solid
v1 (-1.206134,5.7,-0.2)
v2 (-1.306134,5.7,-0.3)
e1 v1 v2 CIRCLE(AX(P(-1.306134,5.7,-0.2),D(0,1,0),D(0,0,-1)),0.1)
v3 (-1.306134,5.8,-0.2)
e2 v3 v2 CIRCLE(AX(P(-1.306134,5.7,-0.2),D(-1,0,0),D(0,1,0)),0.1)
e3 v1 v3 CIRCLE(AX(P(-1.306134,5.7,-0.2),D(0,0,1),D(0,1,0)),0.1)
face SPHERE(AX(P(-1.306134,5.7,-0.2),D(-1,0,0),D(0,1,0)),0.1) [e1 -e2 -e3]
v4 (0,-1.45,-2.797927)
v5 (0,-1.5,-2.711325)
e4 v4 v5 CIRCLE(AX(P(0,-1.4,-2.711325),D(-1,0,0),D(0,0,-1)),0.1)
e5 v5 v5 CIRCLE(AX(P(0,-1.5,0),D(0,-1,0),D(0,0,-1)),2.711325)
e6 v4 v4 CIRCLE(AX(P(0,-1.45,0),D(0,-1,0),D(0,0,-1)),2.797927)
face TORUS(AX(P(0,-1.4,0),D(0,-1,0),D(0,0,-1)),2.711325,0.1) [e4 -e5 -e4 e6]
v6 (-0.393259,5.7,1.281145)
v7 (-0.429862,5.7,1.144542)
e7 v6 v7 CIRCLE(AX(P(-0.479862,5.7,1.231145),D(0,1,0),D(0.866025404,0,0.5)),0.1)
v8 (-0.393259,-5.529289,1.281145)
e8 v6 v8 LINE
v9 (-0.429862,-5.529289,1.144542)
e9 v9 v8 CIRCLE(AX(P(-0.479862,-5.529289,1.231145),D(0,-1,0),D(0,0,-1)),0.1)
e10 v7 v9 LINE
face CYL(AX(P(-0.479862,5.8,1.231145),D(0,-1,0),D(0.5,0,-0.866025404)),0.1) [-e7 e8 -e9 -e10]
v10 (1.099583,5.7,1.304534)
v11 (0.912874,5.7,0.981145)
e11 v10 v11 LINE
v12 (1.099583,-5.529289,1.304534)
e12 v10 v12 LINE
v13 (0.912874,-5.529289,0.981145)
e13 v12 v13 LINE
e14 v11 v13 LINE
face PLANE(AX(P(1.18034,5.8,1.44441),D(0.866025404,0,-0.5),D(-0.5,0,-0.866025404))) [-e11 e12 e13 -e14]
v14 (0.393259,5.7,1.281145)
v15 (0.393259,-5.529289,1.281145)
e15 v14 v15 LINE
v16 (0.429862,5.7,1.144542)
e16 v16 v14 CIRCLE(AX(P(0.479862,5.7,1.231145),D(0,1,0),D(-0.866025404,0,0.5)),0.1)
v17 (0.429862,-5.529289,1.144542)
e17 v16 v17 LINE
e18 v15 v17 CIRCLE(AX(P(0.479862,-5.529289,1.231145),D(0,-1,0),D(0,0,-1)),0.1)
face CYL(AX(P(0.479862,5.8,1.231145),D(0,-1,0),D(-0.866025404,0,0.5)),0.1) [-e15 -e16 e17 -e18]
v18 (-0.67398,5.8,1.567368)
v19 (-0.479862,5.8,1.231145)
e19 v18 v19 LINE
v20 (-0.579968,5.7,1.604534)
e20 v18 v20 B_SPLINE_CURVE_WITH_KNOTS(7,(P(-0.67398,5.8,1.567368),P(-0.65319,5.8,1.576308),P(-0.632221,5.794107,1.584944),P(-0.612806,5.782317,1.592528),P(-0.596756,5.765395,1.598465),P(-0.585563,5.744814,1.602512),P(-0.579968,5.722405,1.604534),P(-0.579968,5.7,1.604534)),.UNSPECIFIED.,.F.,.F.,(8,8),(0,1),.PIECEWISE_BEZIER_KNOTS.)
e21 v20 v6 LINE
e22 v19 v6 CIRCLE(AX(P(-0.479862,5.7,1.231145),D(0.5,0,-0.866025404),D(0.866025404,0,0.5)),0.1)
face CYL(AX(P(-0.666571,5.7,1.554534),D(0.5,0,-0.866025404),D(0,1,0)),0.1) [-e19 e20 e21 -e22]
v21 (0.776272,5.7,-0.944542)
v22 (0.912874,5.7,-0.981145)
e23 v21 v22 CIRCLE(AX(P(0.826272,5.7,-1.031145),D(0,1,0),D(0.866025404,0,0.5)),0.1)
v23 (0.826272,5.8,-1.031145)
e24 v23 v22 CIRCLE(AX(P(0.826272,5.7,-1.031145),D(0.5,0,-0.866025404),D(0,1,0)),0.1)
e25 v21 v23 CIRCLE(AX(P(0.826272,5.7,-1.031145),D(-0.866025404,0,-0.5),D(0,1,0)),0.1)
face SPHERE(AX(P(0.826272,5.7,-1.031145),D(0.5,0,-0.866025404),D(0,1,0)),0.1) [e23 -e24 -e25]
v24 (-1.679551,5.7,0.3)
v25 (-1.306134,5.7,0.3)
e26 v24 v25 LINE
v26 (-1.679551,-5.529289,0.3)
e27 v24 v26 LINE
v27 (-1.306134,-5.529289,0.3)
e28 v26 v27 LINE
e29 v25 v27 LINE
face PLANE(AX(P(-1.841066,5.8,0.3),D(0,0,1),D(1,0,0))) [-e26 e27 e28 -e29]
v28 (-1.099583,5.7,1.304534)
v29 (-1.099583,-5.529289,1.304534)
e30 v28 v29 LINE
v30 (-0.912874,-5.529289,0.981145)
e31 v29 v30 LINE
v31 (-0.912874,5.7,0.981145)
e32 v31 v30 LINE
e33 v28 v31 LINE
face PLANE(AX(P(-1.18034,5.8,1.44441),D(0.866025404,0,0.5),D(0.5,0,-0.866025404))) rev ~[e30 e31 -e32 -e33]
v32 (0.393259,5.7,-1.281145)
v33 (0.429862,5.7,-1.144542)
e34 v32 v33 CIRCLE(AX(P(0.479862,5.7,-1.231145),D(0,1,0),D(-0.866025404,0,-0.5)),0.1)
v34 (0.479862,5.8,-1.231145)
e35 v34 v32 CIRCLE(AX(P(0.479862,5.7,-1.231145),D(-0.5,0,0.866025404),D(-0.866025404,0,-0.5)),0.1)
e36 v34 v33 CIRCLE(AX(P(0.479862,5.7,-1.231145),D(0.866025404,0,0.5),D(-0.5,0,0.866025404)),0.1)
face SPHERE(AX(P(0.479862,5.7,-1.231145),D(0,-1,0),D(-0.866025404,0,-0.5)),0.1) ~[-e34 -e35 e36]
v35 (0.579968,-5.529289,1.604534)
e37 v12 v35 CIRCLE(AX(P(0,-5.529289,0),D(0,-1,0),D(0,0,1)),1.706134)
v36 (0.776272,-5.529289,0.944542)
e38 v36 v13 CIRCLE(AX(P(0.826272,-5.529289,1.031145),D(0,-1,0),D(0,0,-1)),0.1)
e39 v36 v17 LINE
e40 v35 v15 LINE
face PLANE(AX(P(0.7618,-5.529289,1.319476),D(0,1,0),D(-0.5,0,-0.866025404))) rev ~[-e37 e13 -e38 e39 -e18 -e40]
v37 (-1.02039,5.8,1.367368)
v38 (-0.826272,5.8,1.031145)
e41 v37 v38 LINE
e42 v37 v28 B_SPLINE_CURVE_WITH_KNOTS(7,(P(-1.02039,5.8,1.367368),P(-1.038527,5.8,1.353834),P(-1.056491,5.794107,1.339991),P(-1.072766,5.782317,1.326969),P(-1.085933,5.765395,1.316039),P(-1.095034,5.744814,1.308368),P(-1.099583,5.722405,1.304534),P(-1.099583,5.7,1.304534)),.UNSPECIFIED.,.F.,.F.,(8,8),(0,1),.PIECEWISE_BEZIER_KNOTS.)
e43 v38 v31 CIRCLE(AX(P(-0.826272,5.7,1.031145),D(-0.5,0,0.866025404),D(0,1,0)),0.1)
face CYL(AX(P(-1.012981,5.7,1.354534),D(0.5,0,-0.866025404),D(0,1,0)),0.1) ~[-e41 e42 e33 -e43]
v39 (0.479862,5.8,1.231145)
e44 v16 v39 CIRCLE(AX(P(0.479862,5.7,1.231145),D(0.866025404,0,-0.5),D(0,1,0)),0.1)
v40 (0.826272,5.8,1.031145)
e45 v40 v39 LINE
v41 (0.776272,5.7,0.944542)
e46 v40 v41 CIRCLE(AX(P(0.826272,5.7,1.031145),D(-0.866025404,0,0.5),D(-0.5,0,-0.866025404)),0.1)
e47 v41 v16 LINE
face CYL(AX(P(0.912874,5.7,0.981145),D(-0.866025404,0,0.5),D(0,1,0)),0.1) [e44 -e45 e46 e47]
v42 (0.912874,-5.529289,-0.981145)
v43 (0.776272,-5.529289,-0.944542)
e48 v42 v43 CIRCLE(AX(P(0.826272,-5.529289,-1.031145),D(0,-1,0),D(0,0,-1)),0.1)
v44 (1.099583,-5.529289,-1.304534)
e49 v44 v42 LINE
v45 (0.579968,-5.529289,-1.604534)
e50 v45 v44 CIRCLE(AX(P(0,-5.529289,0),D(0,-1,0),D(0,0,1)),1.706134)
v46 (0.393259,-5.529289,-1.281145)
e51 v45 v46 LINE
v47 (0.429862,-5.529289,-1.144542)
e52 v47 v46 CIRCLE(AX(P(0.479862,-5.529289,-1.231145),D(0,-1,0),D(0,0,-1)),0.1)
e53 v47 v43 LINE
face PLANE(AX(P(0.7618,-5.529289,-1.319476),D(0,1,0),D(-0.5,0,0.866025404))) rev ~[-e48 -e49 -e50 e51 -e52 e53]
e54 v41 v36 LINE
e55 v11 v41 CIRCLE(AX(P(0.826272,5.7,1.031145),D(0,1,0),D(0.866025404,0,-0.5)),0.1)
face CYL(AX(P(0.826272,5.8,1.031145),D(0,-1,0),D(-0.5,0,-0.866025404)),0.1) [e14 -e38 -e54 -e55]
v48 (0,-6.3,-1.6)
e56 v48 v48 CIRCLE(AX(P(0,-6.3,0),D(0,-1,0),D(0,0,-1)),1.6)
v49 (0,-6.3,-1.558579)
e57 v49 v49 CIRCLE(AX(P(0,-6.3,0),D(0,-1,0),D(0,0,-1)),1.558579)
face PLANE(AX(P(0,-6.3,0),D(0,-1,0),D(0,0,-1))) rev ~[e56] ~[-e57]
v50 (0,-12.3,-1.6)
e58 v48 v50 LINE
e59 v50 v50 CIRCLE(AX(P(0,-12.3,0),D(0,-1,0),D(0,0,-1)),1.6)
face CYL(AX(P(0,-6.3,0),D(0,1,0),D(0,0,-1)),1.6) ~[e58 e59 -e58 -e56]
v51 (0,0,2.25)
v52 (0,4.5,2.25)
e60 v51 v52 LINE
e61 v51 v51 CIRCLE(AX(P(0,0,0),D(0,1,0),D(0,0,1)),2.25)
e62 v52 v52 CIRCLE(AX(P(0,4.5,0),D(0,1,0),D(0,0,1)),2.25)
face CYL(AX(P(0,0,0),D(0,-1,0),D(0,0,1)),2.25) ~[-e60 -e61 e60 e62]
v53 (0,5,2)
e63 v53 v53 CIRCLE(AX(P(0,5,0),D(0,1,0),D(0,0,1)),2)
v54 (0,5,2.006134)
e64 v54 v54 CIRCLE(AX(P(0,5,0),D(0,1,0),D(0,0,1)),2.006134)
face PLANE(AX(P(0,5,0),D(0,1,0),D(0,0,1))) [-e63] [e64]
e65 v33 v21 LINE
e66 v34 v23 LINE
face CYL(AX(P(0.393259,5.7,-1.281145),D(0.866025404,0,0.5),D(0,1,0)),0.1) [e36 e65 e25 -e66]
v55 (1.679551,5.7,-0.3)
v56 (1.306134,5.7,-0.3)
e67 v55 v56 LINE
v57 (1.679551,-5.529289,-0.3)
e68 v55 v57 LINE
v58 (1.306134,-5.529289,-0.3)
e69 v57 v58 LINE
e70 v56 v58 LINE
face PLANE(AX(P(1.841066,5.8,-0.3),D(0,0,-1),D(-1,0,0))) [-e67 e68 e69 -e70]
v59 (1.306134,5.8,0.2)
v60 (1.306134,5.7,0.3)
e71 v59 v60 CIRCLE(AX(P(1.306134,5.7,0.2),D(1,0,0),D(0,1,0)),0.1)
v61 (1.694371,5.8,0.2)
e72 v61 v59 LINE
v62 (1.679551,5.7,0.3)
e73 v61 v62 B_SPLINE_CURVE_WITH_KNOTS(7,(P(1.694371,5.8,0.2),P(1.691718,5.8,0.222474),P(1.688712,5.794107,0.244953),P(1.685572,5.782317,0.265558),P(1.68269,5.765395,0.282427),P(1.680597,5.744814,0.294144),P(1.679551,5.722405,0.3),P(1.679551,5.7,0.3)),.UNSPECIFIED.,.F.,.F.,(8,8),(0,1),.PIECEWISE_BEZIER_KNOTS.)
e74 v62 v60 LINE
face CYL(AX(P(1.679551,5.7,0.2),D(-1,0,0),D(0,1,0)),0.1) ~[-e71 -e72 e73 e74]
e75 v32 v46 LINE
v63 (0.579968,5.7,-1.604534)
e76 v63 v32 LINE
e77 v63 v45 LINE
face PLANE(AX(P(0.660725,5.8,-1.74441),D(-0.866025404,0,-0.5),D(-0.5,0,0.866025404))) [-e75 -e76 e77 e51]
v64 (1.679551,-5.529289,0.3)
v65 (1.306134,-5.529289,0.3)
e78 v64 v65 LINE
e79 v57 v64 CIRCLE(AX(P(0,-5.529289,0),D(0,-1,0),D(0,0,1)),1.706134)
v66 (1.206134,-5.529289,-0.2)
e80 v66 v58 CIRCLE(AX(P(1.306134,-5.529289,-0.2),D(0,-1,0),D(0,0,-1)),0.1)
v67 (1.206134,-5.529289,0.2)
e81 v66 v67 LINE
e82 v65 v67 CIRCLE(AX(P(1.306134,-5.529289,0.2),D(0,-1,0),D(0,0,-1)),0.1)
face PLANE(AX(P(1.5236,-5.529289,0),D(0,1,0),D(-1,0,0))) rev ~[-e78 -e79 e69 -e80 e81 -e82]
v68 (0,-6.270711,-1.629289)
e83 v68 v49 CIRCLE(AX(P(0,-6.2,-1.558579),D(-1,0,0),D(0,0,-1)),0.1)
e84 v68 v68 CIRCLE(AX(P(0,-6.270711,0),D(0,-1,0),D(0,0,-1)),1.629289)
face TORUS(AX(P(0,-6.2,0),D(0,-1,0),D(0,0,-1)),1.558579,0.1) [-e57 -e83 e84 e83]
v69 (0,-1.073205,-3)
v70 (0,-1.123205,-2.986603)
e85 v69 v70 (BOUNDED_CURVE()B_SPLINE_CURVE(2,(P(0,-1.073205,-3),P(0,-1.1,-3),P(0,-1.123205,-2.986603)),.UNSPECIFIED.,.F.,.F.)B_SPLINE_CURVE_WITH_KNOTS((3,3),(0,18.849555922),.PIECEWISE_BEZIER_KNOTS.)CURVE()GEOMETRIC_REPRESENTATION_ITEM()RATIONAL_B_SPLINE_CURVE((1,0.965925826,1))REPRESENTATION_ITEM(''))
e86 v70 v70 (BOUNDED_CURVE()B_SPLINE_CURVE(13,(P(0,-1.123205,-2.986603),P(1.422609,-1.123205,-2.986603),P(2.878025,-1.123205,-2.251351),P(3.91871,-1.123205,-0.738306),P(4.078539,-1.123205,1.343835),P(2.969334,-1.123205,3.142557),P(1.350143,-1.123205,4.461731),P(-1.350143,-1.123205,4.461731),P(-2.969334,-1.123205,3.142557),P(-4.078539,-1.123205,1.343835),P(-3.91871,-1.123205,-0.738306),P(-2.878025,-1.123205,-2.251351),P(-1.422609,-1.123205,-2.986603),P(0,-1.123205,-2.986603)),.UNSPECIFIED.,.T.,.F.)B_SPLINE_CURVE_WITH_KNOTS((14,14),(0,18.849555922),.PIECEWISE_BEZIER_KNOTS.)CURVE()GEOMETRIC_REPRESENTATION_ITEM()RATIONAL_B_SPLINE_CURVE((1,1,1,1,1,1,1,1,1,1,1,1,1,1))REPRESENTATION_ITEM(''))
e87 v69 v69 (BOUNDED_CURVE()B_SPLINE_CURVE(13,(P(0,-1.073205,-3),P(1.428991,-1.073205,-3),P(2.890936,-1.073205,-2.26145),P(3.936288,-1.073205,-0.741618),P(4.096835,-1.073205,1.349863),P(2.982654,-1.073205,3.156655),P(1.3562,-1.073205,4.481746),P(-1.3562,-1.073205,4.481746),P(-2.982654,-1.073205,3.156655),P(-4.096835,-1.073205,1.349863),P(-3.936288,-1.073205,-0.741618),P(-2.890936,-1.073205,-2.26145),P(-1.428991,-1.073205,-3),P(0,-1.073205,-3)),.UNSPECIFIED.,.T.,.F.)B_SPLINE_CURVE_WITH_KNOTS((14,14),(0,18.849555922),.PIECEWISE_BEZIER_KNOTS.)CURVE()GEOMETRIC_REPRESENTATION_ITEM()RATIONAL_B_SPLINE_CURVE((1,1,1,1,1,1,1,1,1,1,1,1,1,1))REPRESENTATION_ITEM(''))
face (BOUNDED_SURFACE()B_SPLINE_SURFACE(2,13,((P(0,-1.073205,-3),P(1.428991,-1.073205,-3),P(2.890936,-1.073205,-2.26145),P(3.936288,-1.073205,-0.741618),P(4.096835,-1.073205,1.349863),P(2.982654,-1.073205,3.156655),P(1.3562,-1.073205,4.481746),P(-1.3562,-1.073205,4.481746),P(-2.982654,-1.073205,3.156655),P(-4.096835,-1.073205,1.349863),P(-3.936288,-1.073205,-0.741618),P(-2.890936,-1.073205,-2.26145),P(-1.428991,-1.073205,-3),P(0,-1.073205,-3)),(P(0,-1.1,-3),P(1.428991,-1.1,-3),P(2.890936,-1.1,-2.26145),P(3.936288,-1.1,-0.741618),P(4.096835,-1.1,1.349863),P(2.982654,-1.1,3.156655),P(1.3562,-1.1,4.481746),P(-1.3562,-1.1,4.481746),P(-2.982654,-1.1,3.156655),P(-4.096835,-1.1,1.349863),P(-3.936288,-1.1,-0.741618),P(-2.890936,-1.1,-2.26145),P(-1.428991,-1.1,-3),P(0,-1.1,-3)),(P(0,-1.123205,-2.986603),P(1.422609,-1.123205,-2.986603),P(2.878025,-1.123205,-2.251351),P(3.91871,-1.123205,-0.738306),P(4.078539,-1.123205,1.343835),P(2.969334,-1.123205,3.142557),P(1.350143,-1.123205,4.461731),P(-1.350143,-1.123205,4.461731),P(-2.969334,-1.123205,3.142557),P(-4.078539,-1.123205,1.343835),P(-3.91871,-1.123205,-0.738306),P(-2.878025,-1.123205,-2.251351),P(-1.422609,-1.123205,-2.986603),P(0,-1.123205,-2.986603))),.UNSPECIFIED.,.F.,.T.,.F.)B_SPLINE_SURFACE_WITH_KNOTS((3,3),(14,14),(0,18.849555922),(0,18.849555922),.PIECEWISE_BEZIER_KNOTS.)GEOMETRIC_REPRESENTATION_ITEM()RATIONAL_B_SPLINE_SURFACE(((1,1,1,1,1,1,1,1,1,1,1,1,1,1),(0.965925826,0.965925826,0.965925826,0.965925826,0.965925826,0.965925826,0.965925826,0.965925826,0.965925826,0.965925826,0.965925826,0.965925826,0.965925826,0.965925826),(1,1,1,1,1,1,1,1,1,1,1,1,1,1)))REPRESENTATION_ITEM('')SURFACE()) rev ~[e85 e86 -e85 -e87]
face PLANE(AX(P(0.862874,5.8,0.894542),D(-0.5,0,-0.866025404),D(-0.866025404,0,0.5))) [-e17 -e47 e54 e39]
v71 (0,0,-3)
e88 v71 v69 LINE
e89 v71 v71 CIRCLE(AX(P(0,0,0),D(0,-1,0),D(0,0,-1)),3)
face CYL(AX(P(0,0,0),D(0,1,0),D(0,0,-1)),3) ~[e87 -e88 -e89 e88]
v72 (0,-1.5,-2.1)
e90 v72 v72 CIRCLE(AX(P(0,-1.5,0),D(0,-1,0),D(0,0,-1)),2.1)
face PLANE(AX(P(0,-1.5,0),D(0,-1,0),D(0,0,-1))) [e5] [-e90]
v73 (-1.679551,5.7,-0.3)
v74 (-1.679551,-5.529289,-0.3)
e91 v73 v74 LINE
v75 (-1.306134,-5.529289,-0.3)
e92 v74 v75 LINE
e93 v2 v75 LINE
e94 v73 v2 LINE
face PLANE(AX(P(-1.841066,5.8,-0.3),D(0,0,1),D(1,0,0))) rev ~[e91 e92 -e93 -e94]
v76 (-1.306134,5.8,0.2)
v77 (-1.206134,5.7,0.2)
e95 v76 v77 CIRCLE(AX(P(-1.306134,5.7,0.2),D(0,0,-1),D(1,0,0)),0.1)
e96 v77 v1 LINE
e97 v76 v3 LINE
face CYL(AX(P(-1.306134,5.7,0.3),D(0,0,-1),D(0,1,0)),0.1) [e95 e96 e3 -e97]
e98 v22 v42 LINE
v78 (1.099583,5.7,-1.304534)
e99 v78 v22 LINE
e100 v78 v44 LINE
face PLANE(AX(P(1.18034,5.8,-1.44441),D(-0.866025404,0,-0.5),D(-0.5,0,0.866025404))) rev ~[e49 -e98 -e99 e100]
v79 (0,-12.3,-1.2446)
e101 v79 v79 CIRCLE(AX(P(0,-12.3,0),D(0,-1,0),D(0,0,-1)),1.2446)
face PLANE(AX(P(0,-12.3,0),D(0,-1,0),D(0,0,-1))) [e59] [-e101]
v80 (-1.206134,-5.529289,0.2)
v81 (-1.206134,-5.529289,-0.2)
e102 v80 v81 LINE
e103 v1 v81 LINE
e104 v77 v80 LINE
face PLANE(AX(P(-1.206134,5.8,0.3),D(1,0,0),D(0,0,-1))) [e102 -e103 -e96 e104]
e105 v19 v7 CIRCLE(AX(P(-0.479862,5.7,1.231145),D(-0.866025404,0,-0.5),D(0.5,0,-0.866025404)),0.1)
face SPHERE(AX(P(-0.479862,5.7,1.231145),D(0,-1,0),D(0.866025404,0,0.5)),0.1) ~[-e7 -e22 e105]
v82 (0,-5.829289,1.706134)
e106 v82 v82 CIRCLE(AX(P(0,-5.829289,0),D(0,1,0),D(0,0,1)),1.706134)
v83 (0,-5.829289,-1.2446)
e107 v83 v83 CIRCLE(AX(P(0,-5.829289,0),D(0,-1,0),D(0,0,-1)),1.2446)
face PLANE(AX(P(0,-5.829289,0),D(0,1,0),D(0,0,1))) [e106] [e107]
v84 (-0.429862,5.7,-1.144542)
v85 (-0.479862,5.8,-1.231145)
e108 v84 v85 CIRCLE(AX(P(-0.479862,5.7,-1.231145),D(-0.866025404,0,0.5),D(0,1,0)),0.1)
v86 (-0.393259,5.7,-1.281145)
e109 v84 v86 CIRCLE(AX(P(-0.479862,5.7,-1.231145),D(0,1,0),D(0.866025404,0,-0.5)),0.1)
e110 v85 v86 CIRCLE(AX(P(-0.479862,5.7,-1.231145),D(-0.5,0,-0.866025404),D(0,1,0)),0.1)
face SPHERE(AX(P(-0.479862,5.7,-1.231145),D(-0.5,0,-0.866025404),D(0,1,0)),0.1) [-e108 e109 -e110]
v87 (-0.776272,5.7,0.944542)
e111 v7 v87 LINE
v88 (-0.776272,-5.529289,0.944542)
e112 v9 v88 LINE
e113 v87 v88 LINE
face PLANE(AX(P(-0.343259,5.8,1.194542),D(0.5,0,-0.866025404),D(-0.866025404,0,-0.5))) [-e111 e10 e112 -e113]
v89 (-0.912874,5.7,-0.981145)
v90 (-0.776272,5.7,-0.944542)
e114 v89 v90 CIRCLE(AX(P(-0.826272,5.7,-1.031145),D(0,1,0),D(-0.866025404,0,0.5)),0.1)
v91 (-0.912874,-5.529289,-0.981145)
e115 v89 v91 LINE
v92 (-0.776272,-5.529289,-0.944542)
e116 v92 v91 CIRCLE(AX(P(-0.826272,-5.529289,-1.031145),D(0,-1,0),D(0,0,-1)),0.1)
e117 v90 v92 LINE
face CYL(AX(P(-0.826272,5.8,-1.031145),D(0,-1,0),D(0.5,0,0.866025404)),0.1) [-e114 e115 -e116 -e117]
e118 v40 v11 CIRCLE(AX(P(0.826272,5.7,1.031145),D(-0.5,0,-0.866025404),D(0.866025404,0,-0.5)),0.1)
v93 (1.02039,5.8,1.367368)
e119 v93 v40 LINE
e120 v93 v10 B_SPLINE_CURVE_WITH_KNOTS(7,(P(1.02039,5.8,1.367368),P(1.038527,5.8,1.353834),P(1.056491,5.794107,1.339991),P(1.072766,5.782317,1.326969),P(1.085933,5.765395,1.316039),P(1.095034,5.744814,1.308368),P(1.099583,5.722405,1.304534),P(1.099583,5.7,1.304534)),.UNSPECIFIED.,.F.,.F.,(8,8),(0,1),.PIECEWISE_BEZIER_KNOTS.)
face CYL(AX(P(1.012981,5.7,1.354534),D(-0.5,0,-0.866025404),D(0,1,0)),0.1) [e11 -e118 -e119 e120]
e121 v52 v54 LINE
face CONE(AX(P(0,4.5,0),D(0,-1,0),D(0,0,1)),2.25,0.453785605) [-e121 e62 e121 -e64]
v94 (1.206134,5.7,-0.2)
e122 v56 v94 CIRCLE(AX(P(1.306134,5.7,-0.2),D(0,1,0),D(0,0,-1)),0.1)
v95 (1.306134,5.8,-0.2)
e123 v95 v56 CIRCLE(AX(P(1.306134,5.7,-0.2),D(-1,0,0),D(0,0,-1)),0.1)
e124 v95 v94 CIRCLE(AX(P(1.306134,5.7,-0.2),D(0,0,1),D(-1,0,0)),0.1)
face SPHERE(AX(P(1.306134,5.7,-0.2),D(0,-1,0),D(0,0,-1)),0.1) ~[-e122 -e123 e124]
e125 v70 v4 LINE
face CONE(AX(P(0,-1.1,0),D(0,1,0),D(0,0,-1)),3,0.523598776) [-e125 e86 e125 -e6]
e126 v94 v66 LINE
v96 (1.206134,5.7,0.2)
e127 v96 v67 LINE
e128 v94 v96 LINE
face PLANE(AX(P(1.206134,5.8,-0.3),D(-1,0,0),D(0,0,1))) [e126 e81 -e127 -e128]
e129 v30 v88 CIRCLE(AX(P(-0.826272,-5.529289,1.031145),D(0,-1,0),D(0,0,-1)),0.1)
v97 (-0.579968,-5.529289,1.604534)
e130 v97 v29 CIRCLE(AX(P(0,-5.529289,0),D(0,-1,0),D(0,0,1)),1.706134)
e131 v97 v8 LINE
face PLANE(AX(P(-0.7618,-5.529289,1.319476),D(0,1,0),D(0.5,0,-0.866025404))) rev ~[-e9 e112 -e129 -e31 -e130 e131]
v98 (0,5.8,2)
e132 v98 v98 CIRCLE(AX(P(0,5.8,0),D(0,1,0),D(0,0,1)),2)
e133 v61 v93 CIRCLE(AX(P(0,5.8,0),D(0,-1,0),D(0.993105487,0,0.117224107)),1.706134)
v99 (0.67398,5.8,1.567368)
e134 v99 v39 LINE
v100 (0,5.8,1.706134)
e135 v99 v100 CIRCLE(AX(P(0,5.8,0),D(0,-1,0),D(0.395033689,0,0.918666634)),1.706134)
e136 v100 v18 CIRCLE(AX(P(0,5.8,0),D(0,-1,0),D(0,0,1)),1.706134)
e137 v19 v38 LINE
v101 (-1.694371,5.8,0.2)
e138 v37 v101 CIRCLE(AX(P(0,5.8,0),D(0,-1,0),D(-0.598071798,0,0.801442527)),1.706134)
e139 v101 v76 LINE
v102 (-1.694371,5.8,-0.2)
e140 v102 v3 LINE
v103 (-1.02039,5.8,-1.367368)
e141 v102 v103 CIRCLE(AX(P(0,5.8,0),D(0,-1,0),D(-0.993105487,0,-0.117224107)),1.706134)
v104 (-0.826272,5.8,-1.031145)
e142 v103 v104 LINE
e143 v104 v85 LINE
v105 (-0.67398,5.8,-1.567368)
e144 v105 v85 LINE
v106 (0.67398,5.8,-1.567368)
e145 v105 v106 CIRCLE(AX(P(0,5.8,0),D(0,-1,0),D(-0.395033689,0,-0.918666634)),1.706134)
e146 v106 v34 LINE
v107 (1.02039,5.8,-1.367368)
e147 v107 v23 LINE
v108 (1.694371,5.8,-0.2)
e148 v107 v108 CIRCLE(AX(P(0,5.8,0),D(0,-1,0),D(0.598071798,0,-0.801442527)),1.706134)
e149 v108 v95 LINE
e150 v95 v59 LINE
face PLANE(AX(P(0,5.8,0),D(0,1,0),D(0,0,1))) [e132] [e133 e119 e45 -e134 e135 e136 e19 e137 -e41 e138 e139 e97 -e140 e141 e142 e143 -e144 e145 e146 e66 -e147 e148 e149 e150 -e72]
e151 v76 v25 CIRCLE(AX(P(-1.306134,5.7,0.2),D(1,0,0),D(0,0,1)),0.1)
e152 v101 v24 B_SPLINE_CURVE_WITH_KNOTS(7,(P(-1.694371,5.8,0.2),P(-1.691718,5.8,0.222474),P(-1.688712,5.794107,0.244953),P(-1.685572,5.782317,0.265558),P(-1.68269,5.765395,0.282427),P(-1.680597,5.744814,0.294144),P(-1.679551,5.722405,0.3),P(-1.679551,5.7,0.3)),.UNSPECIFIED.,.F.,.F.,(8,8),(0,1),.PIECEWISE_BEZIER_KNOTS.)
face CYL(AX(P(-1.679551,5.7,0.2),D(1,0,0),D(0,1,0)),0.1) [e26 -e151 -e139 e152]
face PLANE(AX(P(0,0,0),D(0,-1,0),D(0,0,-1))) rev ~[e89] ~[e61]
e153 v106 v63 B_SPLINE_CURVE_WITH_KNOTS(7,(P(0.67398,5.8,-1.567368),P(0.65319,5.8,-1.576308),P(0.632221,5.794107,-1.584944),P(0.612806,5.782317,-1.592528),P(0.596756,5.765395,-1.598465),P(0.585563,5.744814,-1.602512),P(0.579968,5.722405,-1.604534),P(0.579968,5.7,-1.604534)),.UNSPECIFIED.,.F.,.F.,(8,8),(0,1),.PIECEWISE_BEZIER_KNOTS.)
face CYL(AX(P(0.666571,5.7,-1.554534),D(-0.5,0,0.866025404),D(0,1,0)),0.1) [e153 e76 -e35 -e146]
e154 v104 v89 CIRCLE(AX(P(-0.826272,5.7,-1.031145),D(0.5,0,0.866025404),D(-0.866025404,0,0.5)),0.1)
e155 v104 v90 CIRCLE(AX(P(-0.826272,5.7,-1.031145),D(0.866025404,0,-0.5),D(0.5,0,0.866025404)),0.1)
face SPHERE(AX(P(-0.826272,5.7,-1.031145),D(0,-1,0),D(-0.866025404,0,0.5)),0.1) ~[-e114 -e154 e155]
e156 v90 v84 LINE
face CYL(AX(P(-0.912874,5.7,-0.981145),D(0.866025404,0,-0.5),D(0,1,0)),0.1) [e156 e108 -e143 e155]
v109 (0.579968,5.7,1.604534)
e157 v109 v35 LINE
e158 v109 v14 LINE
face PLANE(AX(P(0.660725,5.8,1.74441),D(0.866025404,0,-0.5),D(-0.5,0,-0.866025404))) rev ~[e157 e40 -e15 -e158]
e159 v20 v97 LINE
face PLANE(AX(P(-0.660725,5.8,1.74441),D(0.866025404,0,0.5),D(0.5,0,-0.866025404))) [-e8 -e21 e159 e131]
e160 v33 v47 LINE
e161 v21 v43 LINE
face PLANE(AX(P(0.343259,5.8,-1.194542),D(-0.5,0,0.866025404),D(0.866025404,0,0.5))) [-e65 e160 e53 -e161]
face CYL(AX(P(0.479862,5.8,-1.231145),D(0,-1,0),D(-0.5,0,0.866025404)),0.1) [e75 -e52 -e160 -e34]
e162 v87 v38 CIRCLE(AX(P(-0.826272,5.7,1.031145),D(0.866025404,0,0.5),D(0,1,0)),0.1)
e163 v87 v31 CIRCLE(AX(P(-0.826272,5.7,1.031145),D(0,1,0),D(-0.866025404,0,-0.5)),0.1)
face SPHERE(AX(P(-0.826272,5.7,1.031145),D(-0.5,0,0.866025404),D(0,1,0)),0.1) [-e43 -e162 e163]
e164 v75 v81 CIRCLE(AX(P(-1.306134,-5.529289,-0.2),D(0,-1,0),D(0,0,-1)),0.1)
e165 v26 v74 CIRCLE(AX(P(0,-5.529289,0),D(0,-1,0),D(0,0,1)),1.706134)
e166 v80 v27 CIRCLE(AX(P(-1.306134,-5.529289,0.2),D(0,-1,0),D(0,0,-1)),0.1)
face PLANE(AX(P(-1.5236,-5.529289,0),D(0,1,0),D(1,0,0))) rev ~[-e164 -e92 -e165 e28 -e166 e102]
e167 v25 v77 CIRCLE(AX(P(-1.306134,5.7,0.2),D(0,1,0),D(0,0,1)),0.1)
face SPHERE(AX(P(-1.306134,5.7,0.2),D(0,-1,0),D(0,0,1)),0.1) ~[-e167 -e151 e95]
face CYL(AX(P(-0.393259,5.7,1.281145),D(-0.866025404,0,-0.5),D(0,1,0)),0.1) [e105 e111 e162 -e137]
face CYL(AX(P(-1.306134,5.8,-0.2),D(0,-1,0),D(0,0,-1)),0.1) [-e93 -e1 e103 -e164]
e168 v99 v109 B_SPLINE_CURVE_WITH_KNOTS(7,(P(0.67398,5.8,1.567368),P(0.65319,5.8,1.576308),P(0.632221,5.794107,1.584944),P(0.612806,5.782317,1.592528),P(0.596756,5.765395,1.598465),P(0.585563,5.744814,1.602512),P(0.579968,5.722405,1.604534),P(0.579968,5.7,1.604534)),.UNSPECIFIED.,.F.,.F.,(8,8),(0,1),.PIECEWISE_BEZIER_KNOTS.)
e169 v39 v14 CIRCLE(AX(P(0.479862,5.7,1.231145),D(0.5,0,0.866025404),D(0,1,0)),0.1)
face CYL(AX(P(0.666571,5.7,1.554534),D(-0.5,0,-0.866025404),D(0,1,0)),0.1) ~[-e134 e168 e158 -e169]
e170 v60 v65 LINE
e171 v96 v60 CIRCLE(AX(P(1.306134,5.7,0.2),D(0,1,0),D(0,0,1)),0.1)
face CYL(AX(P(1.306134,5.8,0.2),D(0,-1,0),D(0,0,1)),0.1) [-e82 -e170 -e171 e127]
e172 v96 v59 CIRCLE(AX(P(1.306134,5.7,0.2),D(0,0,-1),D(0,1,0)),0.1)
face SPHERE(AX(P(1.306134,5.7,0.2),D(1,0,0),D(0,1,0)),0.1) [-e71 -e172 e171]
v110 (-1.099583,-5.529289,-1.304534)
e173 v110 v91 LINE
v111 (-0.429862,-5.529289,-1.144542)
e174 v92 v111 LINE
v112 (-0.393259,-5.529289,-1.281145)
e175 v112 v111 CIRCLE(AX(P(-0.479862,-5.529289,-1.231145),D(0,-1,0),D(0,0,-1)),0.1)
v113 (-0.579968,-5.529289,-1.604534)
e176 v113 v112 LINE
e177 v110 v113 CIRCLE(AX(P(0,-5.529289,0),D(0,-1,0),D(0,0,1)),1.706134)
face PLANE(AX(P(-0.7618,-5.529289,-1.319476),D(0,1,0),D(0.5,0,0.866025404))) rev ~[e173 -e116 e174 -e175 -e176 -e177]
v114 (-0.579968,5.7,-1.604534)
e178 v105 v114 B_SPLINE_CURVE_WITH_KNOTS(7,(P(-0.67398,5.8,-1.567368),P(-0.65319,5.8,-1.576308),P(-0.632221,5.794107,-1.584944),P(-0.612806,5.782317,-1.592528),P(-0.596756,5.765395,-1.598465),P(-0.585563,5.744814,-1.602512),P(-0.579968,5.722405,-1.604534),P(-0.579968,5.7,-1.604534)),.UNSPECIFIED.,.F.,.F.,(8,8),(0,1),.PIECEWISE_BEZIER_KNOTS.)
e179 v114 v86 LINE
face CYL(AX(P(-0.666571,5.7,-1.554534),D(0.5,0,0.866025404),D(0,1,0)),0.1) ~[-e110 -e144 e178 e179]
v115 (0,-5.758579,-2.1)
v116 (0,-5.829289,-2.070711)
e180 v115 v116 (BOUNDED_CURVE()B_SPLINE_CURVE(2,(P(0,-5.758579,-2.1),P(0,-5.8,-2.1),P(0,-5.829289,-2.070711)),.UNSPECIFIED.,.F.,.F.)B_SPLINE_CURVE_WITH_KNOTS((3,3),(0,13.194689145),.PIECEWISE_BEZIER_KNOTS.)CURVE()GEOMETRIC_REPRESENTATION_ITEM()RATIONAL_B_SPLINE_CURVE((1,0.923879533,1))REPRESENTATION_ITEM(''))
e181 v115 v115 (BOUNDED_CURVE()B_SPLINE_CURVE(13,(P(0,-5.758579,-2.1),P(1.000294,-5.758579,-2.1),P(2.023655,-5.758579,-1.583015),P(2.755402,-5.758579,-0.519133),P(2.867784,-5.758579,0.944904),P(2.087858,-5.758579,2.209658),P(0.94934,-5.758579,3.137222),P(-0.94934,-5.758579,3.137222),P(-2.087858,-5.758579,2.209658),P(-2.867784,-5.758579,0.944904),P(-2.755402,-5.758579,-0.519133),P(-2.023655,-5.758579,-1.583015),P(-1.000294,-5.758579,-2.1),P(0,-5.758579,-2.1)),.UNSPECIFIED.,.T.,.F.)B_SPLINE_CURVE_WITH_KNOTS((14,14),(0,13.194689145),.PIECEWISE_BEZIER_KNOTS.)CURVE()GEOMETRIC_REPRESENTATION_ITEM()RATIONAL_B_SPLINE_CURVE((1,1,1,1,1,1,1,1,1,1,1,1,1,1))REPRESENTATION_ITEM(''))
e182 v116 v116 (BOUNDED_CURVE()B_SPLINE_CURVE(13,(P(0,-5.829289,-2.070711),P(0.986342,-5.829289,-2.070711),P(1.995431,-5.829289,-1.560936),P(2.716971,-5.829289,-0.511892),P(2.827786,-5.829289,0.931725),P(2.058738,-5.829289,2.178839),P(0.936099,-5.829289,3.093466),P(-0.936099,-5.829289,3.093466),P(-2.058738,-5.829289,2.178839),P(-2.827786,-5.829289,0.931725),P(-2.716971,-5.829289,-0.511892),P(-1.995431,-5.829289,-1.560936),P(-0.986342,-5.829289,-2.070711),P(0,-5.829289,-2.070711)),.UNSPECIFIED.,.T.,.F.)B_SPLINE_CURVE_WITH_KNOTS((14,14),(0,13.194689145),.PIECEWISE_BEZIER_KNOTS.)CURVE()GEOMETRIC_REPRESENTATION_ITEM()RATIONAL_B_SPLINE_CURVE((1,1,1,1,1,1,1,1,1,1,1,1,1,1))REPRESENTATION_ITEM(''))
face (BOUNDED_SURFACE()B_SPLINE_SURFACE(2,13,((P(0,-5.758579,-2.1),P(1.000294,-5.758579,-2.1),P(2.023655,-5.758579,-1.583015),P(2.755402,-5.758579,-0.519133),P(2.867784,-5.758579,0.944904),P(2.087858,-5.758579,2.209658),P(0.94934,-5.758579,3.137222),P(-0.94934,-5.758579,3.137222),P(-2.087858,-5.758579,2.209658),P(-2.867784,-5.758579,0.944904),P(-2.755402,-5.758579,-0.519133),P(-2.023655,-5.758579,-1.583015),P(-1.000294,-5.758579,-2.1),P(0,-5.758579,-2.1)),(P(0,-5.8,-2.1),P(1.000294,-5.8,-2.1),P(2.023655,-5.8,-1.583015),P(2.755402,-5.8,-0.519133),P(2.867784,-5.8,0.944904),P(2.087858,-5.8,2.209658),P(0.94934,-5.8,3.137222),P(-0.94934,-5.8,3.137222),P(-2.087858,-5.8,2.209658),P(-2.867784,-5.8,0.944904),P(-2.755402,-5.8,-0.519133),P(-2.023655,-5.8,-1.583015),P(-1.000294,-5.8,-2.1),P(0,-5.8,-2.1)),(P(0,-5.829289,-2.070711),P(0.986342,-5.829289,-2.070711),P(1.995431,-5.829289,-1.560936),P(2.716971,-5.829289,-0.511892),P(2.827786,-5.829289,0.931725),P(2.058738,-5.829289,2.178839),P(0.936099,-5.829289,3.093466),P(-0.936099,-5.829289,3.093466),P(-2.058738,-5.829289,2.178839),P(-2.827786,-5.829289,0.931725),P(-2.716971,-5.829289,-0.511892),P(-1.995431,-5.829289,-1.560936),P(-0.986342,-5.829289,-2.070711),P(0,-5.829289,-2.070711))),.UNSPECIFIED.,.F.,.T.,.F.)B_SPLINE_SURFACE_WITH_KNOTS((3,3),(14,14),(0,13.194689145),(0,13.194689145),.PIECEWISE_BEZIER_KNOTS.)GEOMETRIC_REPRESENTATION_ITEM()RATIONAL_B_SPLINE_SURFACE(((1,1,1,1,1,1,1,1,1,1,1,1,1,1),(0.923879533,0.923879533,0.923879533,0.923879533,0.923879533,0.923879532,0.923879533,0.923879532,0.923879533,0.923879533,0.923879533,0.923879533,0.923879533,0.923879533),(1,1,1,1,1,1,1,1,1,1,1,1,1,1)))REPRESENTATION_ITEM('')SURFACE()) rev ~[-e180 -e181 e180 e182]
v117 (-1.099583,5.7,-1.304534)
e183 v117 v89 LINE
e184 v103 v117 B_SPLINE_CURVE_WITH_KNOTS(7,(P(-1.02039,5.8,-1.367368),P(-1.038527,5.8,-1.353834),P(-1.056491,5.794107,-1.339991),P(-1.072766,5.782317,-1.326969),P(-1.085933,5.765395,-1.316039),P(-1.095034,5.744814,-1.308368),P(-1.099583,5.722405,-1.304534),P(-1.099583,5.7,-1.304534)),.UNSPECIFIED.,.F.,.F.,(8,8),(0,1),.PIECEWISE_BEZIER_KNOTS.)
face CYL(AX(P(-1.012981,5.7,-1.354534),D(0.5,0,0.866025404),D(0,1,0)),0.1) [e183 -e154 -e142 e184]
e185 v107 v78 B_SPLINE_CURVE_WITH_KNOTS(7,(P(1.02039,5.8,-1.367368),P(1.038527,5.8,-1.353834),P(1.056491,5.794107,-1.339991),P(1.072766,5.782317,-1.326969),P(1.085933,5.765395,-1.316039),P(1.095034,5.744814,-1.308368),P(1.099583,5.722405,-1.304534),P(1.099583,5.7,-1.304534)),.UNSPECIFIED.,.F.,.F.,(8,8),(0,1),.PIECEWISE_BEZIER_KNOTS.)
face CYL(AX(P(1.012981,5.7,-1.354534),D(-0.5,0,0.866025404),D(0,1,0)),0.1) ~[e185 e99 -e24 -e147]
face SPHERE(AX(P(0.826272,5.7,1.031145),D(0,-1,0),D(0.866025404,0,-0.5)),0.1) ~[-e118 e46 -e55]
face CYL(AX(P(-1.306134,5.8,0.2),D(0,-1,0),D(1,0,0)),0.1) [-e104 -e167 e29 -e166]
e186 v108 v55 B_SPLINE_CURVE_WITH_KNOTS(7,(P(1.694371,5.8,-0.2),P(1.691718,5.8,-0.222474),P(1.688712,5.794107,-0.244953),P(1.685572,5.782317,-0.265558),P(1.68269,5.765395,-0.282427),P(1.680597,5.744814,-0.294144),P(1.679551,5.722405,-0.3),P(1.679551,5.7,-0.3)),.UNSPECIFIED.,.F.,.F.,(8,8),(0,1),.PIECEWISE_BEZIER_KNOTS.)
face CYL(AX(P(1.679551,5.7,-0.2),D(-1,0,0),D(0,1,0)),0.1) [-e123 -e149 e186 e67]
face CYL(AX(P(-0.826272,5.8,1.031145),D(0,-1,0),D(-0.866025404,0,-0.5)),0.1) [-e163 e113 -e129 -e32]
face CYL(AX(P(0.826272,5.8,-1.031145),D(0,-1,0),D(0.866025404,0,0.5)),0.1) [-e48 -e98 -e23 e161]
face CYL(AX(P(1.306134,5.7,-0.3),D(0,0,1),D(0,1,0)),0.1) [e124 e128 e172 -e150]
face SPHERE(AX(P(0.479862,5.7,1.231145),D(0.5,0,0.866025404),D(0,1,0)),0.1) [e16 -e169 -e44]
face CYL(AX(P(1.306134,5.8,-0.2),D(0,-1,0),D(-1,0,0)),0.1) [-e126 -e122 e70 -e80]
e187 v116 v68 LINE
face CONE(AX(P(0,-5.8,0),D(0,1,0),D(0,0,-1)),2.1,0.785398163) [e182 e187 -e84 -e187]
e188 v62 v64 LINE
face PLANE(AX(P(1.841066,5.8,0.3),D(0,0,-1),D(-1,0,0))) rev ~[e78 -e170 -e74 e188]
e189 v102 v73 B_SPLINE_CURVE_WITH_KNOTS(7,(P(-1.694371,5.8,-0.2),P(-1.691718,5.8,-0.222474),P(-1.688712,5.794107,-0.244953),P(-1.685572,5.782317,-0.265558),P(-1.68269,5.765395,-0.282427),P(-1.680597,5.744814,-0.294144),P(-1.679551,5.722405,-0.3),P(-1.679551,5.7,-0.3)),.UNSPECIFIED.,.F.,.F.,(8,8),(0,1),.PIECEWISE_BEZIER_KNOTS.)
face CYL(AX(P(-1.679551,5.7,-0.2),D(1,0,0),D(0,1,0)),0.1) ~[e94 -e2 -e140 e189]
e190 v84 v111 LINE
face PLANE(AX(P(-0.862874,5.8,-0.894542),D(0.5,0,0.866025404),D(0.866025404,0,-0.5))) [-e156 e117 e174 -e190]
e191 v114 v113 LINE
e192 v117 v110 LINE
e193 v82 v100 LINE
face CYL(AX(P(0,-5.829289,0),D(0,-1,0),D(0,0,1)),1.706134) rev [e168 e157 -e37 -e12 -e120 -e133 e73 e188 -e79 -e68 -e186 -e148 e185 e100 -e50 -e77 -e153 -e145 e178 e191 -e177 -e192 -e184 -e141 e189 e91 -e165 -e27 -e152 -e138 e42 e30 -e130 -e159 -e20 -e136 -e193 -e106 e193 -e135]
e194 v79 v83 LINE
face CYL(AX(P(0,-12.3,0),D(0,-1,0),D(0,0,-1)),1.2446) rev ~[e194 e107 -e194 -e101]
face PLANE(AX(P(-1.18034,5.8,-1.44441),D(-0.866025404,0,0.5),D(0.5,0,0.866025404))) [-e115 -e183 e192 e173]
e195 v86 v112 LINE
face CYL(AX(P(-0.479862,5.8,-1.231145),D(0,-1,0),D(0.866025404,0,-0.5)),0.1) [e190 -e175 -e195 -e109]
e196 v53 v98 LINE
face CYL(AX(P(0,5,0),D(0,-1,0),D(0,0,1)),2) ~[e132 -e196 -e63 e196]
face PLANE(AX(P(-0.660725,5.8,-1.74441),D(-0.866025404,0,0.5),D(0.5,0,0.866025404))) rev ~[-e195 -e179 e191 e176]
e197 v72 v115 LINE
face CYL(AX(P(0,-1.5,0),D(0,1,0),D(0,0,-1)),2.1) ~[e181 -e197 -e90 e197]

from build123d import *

# Parameters (mm, degrees)
SKETCH1_R           = 2.25
BOSS_EXTRUDE1_DEPTH = 5
SKETCH2_R           = 3
BOSS_EXTRUDE2_DEPTH = 1.5
CHAMFER1_SIZE       = 0.4
CHAMFER1_SIZE2      = 0.230940108
FILLET1_R           = 0.1
SKETCH3_R           = 2.1
BOSS_EXTRUDE3_DEPTH = 4.8
CHAMFER2_SIZE       = 0.5
FILLET2_R           = 0.1
SKETCH4_R           = 1.6
BOSS_EXTRUDE4_DEPTH = 6
SKETCH5_R           = 2
BOSS_EXTRUDE5_DEPTH = 0.8
CHAMFER3_SIZE       = 0.5
CHAMFER3_SIZE2      = 0.243866294
CUT_EXTRUDE3_START  = -11.629289
SKETCH6_R           = 1.706133706
CUT_EXTRUDE3_DEPTH  = 11.629289
SKETCH7_W           = 0.634931808
SKETCH7_H           = 0.6
BOSS_EXTRUDE6_DEPTH = 11.329289
CIRPATTERN2_COUNT   = 6
FILLET3_R           = 0.1
FILLET4_R           = 0.1
CUT_EXTRUDE4_REACH  = 20.1
SKETCH8_R           = 1.2446


with BuildPart() as part:
    # Sketch1 → Boss-Extrude1 (new body)
    with BuildSketch(Plane(origin=(0, 0, 0), x_dir=(1, 0, 0), z_dir=(0, 1, 0))):
        with Locations(Location((0, 0, 0), (0, 0, 270))):  # turned: the seam where the file's is
            Circle(SKETCH1_R)
    extrude(amount=BOSS_EXTRUDE1_DEPTH)

    # Sketch2 → Boss-Extrude2 (add)
    with BuildSketch(Plane(origin=(0, 0, 0), x_dir=(-1, 0, 0), z_dir=(0, -1, 0))):
        with Locations(Location((0, 0, 0), (0, 0, 90))):  # turned: the seam where the file's is
            Circle(SKETCH2_R)
    extrude(amount=BOSS_EXTRUDE2_DEPTH)

    # Chamfer1
    chamfer1_edges = [part.edges().sort_by_distance(p)[0] for p in [
        (0, -1.5, 3),
    ]]
    chamfer1_side = [part.faces().sort_by_distance(p)[0] for p in [
        (0, -0.75, 3),
    ]]
    chamfer(chamfer1_edges, length=CHAMFER1_SIZE, length2=CHAMFER1_SIZE2, reference=chamfer1_side[0])

    # Fillet1
    fillet1_edges = [part.edges().sort_by_distance(p)[0] for p in [
        (0, -1.1, 3),
        (0, -1.5, 2.769059892),
    ]]
    fillet(fillet1_edges, radius=FILLET1_R)

    # Sketch3 → Boss-Extrude3 (add)
    with BuildSketch(Plane(origin=(0, -1.5, 0), x_dir=(-1, 0, 0), z_dir=(0, -1, 0))):
        with Locations(Location((0, 0, 0), (0, 0, 90))):  # turned: the seam where the file's is
            Circle(SKETCH3_R)
    extrude(amount=BOSS_EXTRUDE3_DEPTH)

    # Chamfer2
    chamfer2_edges = [part.edges().sort_by_distance(p)[0] for p in [
        (0, -6.3, 2.1),
    ]]
    chamfer(chamfer2_edges, length=CHAMFER2_SIZE)

    # Fillet2
    fillet2_edges = [part.edges().sort_by_distance(p)[0] for p in [
        (0, -6.3, 1.6),
        (0, -5.8, 2.1),
    ]]
    fillet(fillet2_edges, radius=FILLET2_R)

    # Sketch4 → Boss-Extrude4 (add)
    with BuildSketch(Plane(origin=(0, -6.3, 0), x_dir=(-1, 0, 0), z_dir=(0, -1, 0))):
        with Locations(Location((0, 0, 0), (0, 0, 90))):  # turned: the seam where the file's is
            Circle(SKETCH4_R)
    extrude(amount=BOSS_EXTRUDE4_DEPTH)

    # Sketch5 → Boss-Extrude5 (add)
    with BuildSketch(Plane(origin=(0, 5, 0), x_dir=(1, 0, 0), z_dir=(0, 1, 0))):
        with Locations(Location((0, 0, 0), (0, 0, 270))):  # turned: the seam where the file's is
            Circle(SKETCH5_R)
    extrude(amount=BOSS_EXTRUDE5_DEPTH)

    # Chamfer3
    chamfer3_edges = [part.edges().sort_by_distance(p)[0] for p in [
        (0, 5, -2.25),
    ]]
    chamfer3_side = [part.faces().sort_by_distance(p)[0] for p in [
        (0, 2.5, -2.25),
    ]]
    chamfer(chamfer3_edges, length=CHAMFER3_SIZE, length2=CHAMFER3_SIZE2, reference=chamfer3_side[0])

    # Sketch6 → Cut-Extrude3 (cut)
    with BuildSketch(Plane(origin=(0, 5.8, 0), x_dir=(1, 0, 0), z_dir=(0, 1, 0)).offset(CUT_EXTRUDE3_START)):
        with Locations(Location((0, 0, 0), (0, 0, 270))):  # turned: the seam where the file's is
            Circle(SKETCH6_R)
    extrude(amount=CUT_EXTRUDE3_DEPTH, mode=Mode.SUBTRACT)

    # Sketch7 → Boss-Extrude6 (add)
    with BuildSketch(Plane(origin=(0, 5.8, 0), x_dir=(1, 0, 0), z_dir=(0, 1, 0))):
        with Locations((-1.52359961, 0)):
            Rectangle(SKETCH7_W, SKETCH7_H)
    boss_extrude6 = extrude(amount=-BOSS_EXTRUDE6_DEPTH)

    # CirPattern2: Boss-Extrude6 ×6 about axis
    cirpattern2_axis = Axis((0, 0, 0), (0, 1, 0))
    for i in range(1, CIRPATTERN2_COUNT):
        add(boss_extrude6.rotate(cirpattern2_axis, i * 360 / CIRPATTERN2_COUNT))

    # Fillet3
    fillet3_edges = [part.edges().sort_by_distance(p)[0] for p in [
        (-1.206133706, 0.1353555, 0.3),
        (-1.442842451, 5.8, -0.3),
        (-1.442842451, 5.8, 0.3),
        (-1.206133706, 5.8, 0),
        (-1.206133706, 0.1353555, -0.3),
    ]]
    fillet(fillet3_edges, radius=FILLET3_R)

    # Fillet4
    fillet4_edges = [part.edges().sort_by_distance(p)[0] for p in [
        (1.206133706, 0.1353555, -0.3),
        (1.442842451, 5.8, 0.3),
        (1.442842451, 5.8, -0.3),
        (1.206133706, 5.8, 0),
        (1.206133706, 0.1353555, 0.3),
        (0.343259232, 0.1353555, -1.19454243),
        (0.981228847, 5.8, -1.099538216),
        (0.461613604, 5.8, -1.399538216),
        (0.603066853, 5.8, -1.04454243),
        (0.862874474, 0.1353555, -0.89454243),
        (-0.862874474, 0.1353555, -0.89454243),
        (-0.461613604, 5.8, -1.399538216),
        (-0.981228847, 5.8, -1.099538216),
        (-0.603066853, 5.8, -1.04454243),
        (-0.343259232, 0.1353555, -1.19454243),
        (-0.343259232, 0.1353555, 1.19454243),
        (-0.981228847, 5.8, 1.099538216),
        (-0.461613604, 5.8, 1.399538216),
        (-0.603066853, 5.8, 1.04454243),
        (-0.862874474, 0.1353555, 0.89454243),
        (0.862874474, 0.1353555, 0.89454243),
        (0.461613604, 5.8, 1.399538216),
        (0.981228847, 5.8, 1.099538216),
        (0.603066853, 5.8, 1.04454243),
        (0.343259232, 0.1353555, 1.19454243),
    ]]
    fillet(fillet4_edges, radius=FILLET4_R)

    # Sketch8 → Cut-Extrude4 (cut, up to next)
    with BuildSketch(Plane(origin=(0, -12.3, 0), x_dir=(-1, 0, 0), z_dir=(0, -1, 0)), mode=Mode.PRIVATE) as cut_extrude4_sk1:
        with Locations(Location((0, 0, 0), (0, 0, 90))):  # turned: the seam where the file's is
            Circle(SKETCH8_R)
    cut_extrude4_tool1 = extrude(cut_extrude4_sk1.sketch, amount=-CUT_EXTRUDE4_REACH, mode=Mode.PRIVATE) & part.part
    add(cut_extrude4_tool1.solids().sort_by_distance((0, -12.3, 0))[0], mode=Mode.SUBTRACT)


solid = part.part
